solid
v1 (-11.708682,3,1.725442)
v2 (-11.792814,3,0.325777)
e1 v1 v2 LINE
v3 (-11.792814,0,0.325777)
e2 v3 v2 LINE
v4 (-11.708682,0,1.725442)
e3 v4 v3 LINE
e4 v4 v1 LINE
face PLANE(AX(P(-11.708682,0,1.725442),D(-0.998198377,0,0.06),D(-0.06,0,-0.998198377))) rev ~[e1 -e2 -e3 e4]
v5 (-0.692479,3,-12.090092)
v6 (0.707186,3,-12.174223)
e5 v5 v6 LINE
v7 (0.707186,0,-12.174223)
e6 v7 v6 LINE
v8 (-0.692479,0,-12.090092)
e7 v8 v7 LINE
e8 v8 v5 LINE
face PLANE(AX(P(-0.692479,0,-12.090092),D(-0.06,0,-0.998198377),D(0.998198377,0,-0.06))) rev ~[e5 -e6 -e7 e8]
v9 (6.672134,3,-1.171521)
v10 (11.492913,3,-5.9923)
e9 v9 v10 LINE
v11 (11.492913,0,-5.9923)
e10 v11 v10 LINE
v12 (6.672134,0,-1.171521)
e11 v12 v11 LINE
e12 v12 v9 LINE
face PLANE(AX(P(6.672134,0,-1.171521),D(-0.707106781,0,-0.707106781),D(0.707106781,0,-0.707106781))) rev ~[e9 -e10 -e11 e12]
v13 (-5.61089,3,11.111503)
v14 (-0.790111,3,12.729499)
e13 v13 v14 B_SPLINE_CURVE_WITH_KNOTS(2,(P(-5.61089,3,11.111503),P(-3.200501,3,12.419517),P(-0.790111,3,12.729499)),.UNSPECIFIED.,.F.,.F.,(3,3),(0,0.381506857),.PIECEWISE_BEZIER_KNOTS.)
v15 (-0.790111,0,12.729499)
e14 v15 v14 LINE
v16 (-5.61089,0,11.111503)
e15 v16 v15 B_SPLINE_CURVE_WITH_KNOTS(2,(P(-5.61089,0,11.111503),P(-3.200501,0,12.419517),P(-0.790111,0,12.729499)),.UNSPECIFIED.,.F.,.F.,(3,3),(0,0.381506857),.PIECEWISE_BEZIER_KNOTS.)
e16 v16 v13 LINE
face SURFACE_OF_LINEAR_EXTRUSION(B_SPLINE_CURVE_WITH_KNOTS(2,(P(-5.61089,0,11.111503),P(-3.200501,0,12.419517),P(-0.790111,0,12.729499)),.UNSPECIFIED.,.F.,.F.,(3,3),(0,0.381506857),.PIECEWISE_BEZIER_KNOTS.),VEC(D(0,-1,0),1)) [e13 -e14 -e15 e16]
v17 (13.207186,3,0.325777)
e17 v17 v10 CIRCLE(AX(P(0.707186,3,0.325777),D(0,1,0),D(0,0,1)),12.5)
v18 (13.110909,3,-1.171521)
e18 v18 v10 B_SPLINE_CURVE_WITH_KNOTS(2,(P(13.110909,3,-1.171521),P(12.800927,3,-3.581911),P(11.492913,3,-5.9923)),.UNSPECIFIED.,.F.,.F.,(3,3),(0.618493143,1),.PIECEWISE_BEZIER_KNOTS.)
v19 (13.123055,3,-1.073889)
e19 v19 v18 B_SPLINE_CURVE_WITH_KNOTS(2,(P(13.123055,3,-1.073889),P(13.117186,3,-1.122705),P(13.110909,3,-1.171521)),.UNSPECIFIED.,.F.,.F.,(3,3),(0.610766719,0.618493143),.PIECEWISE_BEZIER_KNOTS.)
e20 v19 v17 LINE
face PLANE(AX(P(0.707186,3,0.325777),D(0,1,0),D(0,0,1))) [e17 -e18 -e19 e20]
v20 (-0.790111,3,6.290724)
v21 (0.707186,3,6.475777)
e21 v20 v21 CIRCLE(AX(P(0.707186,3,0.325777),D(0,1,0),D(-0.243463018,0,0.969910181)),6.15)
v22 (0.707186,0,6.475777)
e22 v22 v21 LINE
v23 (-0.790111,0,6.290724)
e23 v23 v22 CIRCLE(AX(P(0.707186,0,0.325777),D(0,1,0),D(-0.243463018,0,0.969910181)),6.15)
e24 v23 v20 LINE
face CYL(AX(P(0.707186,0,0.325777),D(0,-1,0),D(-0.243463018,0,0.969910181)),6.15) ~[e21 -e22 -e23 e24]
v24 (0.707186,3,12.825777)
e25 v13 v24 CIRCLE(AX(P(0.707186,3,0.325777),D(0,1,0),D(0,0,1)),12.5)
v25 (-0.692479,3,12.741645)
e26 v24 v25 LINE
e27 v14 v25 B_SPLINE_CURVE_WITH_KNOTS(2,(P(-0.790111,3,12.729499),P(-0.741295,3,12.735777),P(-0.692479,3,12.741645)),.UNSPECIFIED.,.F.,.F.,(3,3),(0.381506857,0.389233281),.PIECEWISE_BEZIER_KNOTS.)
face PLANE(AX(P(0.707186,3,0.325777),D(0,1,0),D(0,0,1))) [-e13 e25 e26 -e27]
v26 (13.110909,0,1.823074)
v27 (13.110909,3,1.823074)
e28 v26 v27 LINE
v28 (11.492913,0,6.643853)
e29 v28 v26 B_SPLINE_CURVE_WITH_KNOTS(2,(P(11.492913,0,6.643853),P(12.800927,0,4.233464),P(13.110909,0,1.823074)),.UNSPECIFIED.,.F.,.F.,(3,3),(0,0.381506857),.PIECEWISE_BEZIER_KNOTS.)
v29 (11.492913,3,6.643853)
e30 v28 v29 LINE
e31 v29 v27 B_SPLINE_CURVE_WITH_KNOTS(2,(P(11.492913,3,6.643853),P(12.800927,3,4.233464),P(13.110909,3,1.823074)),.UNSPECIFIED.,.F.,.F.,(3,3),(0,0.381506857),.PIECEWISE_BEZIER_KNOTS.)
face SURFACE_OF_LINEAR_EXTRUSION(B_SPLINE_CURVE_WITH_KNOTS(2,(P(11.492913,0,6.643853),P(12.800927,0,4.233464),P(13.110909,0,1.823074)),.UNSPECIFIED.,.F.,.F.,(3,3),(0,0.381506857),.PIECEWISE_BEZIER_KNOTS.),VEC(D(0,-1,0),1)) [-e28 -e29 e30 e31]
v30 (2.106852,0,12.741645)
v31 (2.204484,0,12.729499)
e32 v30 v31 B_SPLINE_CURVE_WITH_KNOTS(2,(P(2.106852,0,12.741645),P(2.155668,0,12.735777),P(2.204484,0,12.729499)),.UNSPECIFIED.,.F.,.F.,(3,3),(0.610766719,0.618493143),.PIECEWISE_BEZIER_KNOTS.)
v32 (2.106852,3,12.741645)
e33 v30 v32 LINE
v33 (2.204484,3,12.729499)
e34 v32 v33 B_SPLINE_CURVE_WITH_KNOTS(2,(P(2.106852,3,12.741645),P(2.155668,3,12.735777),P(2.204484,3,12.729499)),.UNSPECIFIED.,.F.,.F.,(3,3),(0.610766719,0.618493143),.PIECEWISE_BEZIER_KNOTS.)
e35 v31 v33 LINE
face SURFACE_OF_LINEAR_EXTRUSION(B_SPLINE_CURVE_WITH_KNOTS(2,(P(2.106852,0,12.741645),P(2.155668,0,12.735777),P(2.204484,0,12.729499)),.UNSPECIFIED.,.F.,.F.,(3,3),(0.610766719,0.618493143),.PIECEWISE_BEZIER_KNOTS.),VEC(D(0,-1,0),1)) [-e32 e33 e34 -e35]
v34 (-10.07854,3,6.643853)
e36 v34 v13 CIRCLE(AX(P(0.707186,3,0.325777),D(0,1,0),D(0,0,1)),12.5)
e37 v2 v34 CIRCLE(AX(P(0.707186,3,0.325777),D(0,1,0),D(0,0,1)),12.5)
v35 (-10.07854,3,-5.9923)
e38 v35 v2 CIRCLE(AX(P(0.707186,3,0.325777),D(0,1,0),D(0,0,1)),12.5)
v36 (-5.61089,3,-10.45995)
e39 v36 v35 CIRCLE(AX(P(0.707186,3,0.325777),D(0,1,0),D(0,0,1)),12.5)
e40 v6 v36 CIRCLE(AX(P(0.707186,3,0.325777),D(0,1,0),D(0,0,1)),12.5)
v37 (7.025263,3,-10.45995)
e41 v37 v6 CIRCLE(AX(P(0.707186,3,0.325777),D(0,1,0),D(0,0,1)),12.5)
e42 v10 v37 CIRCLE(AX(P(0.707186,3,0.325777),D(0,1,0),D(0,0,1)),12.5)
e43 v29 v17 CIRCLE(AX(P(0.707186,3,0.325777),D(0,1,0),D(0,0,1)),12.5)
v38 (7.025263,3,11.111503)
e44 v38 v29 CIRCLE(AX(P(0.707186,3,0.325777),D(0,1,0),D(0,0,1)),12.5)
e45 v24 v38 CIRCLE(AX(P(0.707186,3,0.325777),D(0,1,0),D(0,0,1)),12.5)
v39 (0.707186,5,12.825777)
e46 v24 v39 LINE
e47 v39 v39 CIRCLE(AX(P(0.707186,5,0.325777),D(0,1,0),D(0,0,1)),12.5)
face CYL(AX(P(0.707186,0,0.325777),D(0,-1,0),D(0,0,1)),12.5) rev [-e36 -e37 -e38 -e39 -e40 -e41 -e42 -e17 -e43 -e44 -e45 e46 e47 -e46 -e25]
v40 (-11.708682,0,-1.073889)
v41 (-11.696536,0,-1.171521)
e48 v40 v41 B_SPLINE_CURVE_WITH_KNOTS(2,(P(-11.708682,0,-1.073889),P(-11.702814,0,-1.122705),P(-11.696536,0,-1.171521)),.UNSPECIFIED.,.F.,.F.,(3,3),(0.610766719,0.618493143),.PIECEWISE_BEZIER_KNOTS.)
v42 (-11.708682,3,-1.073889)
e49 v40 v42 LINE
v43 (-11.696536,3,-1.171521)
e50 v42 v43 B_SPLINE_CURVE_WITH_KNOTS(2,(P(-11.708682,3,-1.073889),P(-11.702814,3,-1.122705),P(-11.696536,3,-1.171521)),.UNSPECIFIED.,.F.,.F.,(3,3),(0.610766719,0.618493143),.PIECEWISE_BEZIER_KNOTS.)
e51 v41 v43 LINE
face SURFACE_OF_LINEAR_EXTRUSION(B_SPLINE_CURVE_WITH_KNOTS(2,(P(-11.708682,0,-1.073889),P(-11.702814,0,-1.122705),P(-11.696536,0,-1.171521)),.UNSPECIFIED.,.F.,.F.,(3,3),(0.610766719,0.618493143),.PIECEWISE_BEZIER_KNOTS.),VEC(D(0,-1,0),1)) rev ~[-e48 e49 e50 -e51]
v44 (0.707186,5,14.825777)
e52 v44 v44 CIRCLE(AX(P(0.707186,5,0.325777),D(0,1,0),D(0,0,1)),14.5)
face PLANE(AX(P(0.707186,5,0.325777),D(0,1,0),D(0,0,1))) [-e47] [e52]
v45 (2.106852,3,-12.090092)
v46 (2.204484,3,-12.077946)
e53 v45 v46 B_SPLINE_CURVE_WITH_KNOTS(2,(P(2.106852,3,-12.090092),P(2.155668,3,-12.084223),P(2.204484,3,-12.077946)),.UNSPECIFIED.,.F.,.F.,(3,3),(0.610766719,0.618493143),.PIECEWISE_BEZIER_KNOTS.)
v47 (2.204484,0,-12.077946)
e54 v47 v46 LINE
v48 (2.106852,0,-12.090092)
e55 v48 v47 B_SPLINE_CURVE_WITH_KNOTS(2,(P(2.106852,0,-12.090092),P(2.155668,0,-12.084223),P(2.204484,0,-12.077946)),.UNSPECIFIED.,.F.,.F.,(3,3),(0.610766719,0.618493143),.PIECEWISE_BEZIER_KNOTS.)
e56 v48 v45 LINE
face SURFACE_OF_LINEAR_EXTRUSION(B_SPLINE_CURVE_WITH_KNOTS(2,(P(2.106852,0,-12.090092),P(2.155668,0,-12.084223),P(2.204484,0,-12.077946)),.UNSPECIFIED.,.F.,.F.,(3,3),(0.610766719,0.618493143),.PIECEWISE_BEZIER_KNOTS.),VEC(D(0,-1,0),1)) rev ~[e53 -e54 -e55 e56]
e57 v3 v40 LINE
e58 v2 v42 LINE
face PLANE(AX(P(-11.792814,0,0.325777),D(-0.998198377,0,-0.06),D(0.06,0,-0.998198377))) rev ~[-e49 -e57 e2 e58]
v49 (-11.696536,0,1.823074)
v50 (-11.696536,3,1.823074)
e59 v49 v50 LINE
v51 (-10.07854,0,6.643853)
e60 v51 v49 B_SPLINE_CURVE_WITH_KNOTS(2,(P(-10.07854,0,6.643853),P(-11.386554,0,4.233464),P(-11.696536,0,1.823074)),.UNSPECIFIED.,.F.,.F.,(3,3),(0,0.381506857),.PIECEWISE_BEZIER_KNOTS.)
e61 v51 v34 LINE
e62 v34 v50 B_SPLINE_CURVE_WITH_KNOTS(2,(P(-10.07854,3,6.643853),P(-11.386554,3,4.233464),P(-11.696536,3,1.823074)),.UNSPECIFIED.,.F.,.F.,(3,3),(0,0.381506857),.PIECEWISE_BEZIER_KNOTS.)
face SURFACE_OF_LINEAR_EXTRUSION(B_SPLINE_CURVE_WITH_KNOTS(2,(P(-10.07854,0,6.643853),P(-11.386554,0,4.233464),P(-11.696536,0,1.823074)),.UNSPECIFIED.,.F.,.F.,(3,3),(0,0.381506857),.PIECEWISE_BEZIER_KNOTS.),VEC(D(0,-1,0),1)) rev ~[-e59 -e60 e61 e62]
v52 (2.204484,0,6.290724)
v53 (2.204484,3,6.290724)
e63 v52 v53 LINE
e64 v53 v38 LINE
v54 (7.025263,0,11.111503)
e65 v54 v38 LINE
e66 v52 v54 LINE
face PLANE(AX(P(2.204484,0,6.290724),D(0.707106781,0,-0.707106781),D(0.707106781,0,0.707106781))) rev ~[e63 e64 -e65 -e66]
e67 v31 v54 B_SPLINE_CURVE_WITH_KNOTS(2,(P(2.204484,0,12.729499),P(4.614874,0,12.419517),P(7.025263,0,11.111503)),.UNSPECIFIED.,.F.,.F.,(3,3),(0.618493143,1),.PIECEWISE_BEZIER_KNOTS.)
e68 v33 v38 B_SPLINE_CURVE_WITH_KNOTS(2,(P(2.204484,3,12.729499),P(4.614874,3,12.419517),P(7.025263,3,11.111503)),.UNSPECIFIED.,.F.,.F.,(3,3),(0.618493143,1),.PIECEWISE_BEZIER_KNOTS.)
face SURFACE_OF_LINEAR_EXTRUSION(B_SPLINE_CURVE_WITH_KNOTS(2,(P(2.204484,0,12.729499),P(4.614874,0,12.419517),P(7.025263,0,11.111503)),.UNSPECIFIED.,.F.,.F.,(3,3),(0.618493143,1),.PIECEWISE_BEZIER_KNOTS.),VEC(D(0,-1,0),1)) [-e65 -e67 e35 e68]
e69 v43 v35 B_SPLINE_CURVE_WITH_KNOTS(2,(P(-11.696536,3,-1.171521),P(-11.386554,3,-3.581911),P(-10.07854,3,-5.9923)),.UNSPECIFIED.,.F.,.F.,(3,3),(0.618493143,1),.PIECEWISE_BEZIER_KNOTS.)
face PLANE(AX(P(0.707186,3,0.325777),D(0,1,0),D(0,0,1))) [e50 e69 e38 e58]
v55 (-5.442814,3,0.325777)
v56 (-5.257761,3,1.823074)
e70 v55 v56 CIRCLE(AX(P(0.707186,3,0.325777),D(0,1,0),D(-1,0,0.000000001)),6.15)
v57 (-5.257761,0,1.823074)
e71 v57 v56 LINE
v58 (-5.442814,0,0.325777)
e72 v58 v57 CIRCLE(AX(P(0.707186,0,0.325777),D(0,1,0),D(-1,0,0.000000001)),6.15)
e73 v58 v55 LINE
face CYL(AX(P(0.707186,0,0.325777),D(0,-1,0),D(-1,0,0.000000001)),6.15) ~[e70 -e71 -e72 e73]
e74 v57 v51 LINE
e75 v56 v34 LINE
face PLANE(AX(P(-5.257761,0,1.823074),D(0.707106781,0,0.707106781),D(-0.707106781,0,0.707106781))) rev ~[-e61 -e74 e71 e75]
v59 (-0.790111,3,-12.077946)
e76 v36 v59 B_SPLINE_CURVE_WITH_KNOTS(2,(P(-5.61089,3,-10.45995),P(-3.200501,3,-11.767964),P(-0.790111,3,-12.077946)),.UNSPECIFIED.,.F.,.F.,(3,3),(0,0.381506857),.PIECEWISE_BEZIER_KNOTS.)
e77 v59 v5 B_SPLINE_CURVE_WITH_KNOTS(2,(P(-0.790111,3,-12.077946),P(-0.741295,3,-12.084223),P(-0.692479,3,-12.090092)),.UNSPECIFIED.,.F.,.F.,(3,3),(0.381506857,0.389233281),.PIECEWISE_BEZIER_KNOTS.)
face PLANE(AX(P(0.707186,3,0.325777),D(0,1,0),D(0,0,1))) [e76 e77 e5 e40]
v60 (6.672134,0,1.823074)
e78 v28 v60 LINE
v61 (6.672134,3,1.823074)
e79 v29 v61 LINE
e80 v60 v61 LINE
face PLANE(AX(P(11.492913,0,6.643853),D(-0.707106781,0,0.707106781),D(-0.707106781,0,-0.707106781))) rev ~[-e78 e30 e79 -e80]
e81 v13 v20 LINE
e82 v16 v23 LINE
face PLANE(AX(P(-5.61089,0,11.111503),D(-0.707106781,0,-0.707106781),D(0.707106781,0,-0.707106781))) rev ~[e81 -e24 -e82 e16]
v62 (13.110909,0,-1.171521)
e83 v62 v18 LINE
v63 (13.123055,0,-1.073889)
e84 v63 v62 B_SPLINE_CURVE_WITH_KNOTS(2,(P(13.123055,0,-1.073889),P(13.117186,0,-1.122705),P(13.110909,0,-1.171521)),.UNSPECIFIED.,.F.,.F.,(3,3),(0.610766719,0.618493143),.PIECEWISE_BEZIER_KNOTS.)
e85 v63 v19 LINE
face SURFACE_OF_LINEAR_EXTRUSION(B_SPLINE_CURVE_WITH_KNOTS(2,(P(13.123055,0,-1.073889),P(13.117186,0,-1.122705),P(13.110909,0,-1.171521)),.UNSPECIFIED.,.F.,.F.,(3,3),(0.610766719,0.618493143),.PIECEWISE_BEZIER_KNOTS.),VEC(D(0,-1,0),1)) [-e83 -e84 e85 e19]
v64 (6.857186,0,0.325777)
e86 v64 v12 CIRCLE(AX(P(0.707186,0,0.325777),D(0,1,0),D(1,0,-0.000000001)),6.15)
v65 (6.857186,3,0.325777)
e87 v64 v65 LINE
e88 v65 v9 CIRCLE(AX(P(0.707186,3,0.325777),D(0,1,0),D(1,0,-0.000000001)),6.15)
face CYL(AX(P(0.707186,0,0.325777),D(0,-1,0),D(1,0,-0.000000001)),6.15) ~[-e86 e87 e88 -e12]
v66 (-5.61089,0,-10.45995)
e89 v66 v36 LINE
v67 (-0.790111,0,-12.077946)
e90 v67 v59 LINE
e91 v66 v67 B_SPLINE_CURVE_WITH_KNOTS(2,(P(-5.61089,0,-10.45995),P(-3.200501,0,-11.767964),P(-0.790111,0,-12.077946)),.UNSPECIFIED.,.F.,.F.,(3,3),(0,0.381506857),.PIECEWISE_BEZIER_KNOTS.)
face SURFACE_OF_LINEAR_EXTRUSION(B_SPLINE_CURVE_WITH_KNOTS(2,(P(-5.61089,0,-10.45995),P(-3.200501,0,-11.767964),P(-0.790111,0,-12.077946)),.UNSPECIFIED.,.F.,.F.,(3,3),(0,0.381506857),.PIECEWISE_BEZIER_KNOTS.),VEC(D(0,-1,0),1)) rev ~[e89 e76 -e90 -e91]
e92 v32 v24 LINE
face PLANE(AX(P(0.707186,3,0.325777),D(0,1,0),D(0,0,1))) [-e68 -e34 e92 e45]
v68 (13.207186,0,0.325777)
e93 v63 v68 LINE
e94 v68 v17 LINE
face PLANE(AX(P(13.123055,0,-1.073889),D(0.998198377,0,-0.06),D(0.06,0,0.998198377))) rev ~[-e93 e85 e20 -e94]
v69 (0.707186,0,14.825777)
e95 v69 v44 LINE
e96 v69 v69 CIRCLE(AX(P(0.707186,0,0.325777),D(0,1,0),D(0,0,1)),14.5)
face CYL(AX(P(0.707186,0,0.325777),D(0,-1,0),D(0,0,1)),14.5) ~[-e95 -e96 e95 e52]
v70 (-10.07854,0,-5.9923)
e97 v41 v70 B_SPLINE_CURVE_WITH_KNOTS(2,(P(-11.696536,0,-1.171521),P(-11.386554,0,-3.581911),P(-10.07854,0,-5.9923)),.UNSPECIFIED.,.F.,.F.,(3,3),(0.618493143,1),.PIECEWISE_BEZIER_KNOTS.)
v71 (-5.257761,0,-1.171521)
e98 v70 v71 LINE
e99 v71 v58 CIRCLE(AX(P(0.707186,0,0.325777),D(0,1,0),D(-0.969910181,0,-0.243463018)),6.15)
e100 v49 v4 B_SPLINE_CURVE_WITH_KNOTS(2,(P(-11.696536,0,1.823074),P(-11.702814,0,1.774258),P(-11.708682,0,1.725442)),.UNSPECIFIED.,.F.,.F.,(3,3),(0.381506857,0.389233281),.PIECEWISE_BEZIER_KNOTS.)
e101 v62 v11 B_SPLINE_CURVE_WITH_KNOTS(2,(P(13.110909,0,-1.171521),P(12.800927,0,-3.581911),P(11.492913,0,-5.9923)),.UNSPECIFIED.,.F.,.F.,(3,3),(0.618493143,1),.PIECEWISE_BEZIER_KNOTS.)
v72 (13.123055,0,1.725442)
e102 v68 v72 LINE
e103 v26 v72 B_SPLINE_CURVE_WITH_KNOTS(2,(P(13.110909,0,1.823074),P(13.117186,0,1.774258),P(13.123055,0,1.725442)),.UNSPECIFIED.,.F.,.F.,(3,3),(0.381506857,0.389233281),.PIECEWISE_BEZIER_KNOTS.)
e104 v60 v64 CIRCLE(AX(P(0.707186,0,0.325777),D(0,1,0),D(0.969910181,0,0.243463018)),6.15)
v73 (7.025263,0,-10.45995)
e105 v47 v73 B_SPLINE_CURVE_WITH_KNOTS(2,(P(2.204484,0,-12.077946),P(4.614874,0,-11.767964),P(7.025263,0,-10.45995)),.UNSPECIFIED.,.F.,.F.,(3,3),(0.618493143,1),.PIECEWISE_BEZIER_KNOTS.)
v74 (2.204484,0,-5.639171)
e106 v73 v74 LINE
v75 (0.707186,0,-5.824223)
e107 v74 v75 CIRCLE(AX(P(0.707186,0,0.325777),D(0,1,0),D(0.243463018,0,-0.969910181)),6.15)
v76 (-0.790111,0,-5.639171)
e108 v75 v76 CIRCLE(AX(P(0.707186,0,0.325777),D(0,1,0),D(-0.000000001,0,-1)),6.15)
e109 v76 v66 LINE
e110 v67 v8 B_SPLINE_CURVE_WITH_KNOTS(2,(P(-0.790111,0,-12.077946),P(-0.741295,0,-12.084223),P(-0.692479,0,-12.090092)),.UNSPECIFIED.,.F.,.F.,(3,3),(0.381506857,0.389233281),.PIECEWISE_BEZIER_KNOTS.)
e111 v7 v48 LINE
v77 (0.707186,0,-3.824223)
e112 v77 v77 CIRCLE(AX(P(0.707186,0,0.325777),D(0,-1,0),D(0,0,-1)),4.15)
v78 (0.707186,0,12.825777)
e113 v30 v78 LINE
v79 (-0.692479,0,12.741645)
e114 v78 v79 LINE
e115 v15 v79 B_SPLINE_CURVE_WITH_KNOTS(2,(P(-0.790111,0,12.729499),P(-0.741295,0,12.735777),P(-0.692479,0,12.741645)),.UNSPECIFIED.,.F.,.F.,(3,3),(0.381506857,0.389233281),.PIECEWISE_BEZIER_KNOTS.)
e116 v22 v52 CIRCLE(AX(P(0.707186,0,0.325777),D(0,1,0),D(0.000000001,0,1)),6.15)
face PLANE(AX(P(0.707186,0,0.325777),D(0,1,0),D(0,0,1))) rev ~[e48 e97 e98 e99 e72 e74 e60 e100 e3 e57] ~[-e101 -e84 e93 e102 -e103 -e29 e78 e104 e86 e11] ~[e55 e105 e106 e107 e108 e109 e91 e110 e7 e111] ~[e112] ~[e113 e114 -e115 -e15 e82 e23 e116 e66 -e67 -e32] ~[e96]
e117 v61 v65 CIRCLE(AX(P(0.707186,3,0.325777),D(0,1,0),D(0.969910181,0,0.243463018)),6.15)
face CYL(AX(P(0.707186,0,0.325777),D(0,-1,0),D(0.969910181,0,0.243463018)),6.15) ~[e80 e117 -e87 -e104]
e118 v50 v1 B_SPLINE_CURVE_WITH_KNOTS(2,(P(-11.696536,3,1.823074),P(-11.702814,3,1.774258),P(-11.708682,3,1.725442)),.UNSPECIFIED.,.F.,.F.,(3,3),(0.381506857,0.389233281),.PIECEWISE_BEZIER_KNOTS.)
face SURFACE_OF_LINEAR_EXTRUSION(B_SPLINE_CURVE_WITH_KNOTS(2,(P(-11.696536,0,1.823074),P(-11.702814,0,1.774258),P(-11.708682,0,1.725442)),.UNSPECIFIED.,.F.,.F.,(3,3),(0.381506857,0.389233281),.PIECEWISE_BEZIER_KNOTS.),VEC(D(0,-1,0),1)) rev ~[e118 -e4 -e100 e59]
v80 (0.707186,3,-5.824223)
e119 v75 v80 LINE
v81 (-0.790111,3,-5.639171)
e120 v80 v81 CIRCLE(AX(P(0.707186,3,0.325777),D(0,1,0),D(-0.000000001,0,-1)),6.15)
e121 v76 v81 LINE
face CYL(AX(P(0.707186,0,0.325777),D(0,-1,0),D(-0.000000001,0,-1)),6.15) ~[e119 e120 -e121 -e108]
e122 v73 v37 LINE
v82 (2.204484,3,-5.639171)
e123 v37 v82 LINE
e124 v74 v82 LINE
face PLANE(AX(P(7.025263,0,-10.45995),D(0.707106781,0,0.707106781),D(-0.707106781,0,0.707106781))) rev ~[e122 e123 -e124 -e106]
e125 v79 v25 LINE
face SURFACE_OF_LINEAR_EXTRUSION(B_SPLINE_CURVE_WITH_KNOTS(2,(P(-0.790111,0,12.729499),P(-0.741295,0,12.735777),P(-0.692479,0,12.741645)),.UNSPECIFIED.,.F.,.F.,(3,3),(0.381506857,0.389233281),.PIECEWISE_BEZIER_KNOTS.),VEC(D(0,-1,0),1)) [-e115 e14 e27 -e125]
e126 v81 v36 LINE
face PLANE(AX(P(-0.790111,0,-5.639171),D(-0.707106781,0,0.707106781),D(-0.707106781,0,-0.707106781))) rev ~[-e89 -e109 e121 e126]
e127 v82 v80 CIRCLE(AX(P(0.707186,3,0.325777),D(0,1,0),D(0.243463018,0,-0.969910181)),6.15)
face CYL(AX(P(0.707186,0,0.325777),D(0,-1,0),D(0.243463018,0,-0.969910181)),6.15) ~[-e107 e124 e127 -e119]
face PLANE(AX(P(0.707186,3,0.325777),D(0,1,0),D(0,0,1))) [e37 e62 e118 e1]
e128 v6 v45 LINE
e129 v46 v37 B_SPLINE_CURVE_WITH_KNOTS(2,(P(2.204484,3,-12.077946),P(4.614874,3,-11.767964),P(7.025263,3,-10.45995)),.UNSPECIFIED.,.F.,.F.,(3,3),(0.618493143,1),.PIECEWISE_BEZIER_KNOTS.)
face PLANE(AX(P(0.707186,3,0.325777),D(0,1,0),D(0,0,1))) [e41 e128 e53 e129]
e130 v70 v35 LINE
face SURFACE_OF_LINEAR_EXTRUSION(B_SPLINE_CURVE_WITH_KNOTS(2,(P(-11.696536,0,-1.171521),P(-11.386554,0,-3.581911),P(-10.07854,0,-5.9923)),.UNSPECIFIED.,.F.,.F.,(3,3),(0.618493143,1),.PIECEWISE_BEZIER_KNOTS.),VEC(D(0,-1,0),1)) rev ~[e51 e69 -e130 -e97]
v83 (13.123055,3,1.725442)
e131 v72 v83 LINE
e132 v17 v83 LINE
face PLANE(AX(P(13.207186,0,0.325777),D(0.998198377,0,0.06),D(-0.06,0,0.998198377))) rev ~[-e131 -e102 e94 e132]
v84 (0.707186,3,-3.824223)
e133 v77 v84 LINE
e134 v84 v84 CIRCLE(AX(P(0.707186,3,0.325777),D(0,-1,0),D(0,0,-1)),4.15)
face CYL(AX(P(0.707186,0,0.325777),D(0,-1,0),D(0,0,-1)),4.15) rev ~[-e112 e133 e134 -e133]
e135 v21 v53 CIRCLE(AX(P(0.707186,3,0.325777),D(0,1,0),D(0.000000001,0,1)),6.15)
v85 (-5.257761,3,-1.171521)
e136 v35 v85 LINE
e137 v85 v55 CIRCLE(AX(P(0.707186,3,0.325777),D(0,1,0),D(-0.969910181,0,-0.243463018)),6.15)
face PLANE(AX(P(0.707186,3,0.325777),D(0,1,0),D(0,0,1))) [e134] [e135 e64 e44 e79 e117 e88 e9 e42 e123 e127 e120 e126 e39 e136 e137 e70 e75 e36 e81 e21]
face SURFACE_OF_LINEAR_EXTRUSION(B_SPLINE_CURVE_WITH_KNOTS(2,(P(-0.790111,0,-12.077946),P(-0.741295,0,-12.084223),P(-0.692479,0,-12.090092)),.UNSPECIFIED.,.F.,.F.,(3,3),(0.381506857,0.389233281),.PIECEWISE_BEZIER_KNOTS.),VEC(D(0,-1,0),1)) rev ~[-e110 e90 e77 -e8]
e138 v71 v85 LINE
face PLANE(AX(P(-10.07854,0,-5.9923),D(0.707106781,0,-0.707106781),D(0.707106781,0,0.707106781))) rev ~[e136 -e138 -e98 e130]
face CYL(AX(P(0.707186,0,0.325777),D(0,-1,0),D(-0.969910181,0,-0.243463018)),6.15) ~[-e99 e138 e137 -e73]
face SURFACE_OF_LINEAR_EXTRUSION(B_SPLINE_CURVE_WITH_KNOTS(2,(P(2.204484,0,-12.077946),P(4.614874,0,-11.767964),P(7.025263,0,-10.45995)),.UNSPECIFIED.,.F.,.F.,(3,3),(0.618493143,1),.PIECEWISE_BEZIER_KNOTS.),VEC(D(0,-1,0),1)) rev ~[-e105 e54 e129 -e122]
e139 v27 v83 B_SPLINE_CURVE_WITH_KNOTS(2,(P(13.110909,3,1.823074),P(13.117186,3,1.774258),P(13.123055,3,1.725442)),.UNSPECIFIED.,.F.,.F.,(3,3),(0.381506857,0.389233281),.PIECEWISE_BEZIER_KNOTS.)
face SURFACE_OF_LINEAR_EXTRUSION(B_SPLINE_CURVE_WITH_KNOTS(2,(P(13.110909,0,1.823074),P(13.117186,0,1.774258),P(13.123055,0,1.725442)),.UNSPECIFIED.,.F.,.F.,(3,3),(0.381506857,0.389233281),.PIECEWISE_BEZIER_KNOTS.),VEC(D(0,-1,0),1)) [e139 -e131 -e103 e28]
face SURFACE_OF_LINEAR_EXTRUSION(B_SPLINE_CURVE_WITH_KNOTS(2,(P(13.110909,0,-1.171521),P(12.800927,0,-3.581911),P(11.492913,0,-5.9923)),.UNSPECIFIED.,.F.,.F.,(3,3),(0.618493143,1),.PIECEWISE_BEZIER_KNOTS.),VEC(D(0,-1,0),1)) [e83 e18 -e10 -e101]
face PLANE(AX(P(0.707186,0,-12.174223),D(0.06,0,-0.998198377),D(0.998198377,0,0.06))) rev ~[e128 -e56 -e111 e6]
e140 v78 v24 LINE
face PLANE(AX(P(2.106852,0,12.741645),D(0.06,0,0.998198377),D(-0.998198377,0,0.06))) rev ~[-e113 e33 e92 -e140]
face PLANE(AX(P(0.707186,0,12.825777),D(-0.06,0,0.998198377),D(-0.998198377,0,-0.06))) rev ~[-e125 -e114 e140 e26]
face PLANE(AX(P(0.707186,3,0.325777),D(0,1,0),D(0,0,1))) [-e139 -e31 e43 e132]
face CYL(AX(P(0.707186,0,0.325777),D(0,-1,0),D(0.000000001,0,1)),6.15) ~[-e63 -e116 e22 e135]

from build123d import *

# Parameters (mm, degrees)
SKETCH1_R           = 14.5
SKETCH1_R_2         = 12.5
BOSS_EXTRUDE1_DEPTH = 5
SKETCH1_2_R         = 12.5
BOSS_EXTRUDE2_DEPTH = 3
SKETCH2_R           = 4.15
CUT_EXTRUDE1_DEPTH  = 3


with BuildPart() as part:
    # Sketch1 → Boss-Extrude1 (new body)
    with BuildSketch(Plane(origin=(0, 0, 0), x_dir=(1, 0, 0), z_dir=(0, 1, 0))):
        with Locations(Location((0.707186418, -0.325776571, 0), (0, 0, 270))):
            Circle(SKETCH1_R)
        with Locations(Location((0.707186418, -0.325776571, 0), (0, 0, 270))):
            Circle(SKETCH1_R_2, mode=Mode.SUBTRACT)
    extrude(amount=BOSS_EXTRUDE1_DEPTH)

    # Sketch1<2> → Boss-Extrude2 (add)
    with BuildSketch(Plane(origin=(0, 0, 0), x_dir=(1, 0, 0), z_dir=(0, 1, 0))):
        with Locations(Location((0.707186418, -0.325776571, 0), (0, 0, 270))):
            Circle(SKETCH1_2_R)
    extrude(amount=BOSS_EXTRUDE2_DEPTH)

    # Sketch2 → Cut-Extrude1 (cut)
    with BuildSketch(Plane.XZ):
        with BuildLine():
            Line((-11.69653572, 1.823074137), (-5.257761193, 1.823074137))
            Line((-5.257761193, 1.823074137), (-10.078540485, 6.643853429))
            add(Edge.make_bspline(
                [(-10.078540485, 6.643853429), (-11.386554368, 4.233463783), (-11.69653572, 1.823074137)],
                knots=[0, 0, 0, 0.381506857, 0.381506857, 0.381506857], degree=2))
        make_face()
        with BuildLine():
            Line((-10.078540485, -5.992300287), (-5.257761193, -1.171520995))
            Line((-5.257761193, -1.171520995), (-11.69653572, -1.171520995))
            add(Edge.make_bspline(
                [(-11.69653572, -1.171520995), (-11.386554368, -3.581910641), (-10.078540485, -5.992300287)],
                knots=[0.618493143, 0.618493143, 0.618493143, 1, 1, 1], degree=2))
        make_face()
        with BuildLine():
            ThreePointArc((-5.257761193, -1.171520995), (-5.396375157, -0.428568242), (-5.442813582, 0.325776571))
            Line((-5.442813582, 0.325776571), (-11.792813582, 0.325776571))
            Line((-11.792813582, 0.325776571), (-11.708682092, -1.073888712))
            add(Edge.make_bspline(
                [(-11.708682092, -1.073888712), (-11.702813582, -1.122704853), (-11.69653572, -1.171520995)],
                knots=[0.610766719, 0.610766719, 0.610766719, 0.618493143, 0.618493143, 0.618493143], degree=2))
            Line((-11.69653572, -1.171520995), (-5.257761193, -1.171520995))
        make_face()
        with BuildLine():
            ThreePointArc((-5.442813582, 0.325776571), (-5.396375157, 1.080121384), (-5.257761193, 1.823074137))
            Line((-5.257761193, 1.823074137), (-11.69653572, 1.823074137))
            add(Edge.make_bspline(
                [(-11.69653572, 1.823074137), (-11.702813582, 1.774257995), (-11.708682092, 1.725441854)],
                knots=[0.381506857, 0.381506857, 0.381506857, 0.389233281, 0.389233281, 0.389233281], degree=2))
            Line((-11.708682092, 1.725441854), (-11.792813582, 0.325776571))
            Line((-11.792813582, 0.325776571), (-5.442813582, 0.325776571))
        make_face()
        with BuildLine():
            Line((-0.790111147, -12.077945567), (-0.790111147, -5.63917104))
            Line((-0.790111147, -5.63917104), (-5.610890439, -10.459950332))
            add(Edge.make_bspline(
                [(-5.610890439, -10.459950332), (-3.200500793, -11.767964215), (-0.790111147, -12.077945567)],
                knots=[0, 0, 0, 0.381506857, 0.381506857, 0.381506857], degree=2))
        make_face()
        with BuildLine():
            ThreePointArc((0.707186418, -5.824223429), (-0.047158395, -5.777785004), (-0.790111147, -5.63917104))
            Line((-0.790111147, -5.63917104), (-0.790111147, -12.077945567))
            add(Edge.make_bspline(
                [(-0.790111147, -12.077945567), (-0.741295006, -12.084223429), (-0.692478865, -12.090091939)],
                knots=[0.381506857, 0.381506857, 0.381506857, 0.389233281, 0.389233281, 0.389233281], degree=2))
            Line((-0.692478865, -12.090091939), (0.707186418, -12.174223429))
            Line((0.707186418, -12.174223429), (0.707186418, -5.824223429))
        make_face()
        with BuildLine():
            Line((2.204483984, -12.077945567), (2.204483984, -5.63917104))
            ThreePointArc((2.204483984, -5.63917104), (1.461531231, -5.777785004), (0.707186418, -5.824223429))
            Line((0.707186418, -5.824223429), (0.707186418, -12.174223429))
            Line((0.707186418, -12.174223429), (2.106851701, -12.090091939))
            add(Edge.make_bspline(
                [(2.106851701, -12.090091939), (2.155667843, -12.084223429), (2.204483984, -12.077945567)],
                knots=[0.610766719, 0.610766719, 0.610766719, 0.618493143, 0.618493143, 0.618493143], degree=2))
        make_face()
        with BuildLine():
            Line((7.025263276, -10.459950332), (2.204483984, -5.63917104))
            Line((2.204483984, -5.63917104), (2.204483984, -12.077945567))
            add(Edge.make_bspline(
                [(2.204483984, -12.077945567), (4.61487363, -11.767964215), (7.025263276, -10.459950332)],
                knots=[0.618493143, 0.618493143, 0.618493143, 1, 1, 1], degree=2))
        make_face()
        with BuildLine():
            Line((13.207186418, 0.325776571), (6.857186418, 0.325776571))
            ThreePointArc((6.857186418, 0.325776571), (6.810747993, -0.428568242), (6.672134029, -1.171520995))
            Line((6.672134029, -1.171520995), (13.110908556, -1.171520995))
            add(Edge.make_bspline(
                [(13.123054928, -1.073888712), (13.117186418, -1.122704853), (13.110908556, -1.171520995)],
                knots=[0.610766719, 0.610766719, 0.610766719, 0.618493143, 0.618493143, 0.618493143], degree=2))
            Line((13.123054928, -1.073888712), (13.207186418, 0.325776571))
        make_face()
        with BuildLine():
            Line((13.110908556, 1.823074137), (6.672134029, 1.823074137))
            ThreePointArc((6.672134029, 1.823074137), (6.810747993, 1.080121384), (6.857186418, 0.325776571))
            Line((6.857186418, 0.325776571), (13.207186418, 0.325776571))
            Line((13.207186418, 0.325776571), (13.123054928, 1.725441854))
            add(Edge.make_bspline(
                [(13.110908556, 1.823074137), (13.117186418, 1.774257995), (13.123054928, 1.725441854)],
                knots=[0.381506857, 0.381506857, 0.381506857, 0.389233281, 0.389233281, 0.389233281], degree=2))
        make_face()
        with BuildLine():
            Line((11.492913321, 6.643853429), (6.672134029, 1.823074137))
            Line((6.672134029, 1.823074137), (13.110908556, 1.823074137))
            add(Edge.make_bspline(
                [(11.492913321, 6.643853429), (12.800927205, 4.233463783), (13.110908556, 1.823074137)],
                knots=[0, 0, 0, 0.381506857, 0.381506857, 0.381506857], degree=2))
        make_face()
        with BuildLine():
            Line((13.110908556, -1.171520995), (6.672134029, -1.171520995))
            Line((6.672134029, -1.171520995), (11.492913321, -5.992300287))
            add(Edge.make_bspline(
                [(13.110908556, -1.171520995), (12.800927205, -3.581910641), (11.492913321, -5.992300287)],
                knots=[0.618493143, 0.618493143, 0.618493143, 1, 1, 1], degree=2))
        make_face()
        with BuildLine():
            Line((2.204483984, 12.729498709), (2.204483984, 6.290724182))
            Line((2.204483984, 6.290724182), (7.025263276, 11.111503474))
            add(Edge.make_bspline(
                [(2.204483984, 12.729498709), (4.61487363, 12.419517357), (7.025263276, 11.111503474)],
                knots=[0.618493143, 0.618493143, 0.618493143, 1, 1, 1], degree=2))
        make_face()
        with BuildLine():
            Line((0.707186418, 12.825776571), (0.707186418, 6.475776571))
            ThreePointArc((0.707186418, 6.475776571), (1.461531231, 6.429338146), (2.204483984, 6.290724182))
            Line((2.204483984, 6.290724182), (2.204483984, 12.729498709))
            add(Edge.make_bspline(
                [(2.106851701, 12.741645081), (2.155667843, 12.735776571), (2.204483984, 12.729498709)],
                knots=[0.610766719, 0.610766719, 0.610766719, 0.618493143, 0.618493143, 0.618493143], degree=2))
            Line((2.106851701, 12.741645081), (0.707186418, 12.825776571))
        make_face()
        with BuildLine():
            ThreePointArc((-0.790111147, 6.290724182), (-0.047158395, 6.429338146), (0.707186418, 6.475776571))
            Line((0.707186418, 6.475776571), (0.707186418, 12.825776571))
            Line((0.707186418, 12.825776571), (-0.692478865, 12.741645081))
            add(Edge.make_bspline(
                [(-0.790111147, 12.729498709), (-0.741295006, 12.735776571), (-0.692478865, 12.741645081)],
                knots=[0.381506857, 0.381506857, 0.381506857, 0.389233281, 0.389233281, 0.389233281], degree=2))
            Line((-0.790111147, 12.729498709), (-0.790111147, 6.290724182))
        make_face()
        with BuildLine():
            Line((-5.610890439, 11.111503474), (-0.790111147, 6.290724182))
            Line((-0.790111147, 6.290724182), (-0.790111147, 12.729498709))
            add(Edge.make_bspline(
                [(-5.610890439, 11.111503474), (-3.200500793, 12.419517357), (-0.790111147, 12.729498709)],
                knots=[0, 0, 0, 0.381506857, 0.381506857, 0.381506857], degree=2))
        make_face()
        with Locations(Location((0.707186418, 0.325776571, 0), (0, 0, 270))):
            Circle(SKETCH2_R)
    extrude(amount=-CUT_EXTRUDE1_DEPTH, mode=Mode.SUBTRACT)


solid = part.part
